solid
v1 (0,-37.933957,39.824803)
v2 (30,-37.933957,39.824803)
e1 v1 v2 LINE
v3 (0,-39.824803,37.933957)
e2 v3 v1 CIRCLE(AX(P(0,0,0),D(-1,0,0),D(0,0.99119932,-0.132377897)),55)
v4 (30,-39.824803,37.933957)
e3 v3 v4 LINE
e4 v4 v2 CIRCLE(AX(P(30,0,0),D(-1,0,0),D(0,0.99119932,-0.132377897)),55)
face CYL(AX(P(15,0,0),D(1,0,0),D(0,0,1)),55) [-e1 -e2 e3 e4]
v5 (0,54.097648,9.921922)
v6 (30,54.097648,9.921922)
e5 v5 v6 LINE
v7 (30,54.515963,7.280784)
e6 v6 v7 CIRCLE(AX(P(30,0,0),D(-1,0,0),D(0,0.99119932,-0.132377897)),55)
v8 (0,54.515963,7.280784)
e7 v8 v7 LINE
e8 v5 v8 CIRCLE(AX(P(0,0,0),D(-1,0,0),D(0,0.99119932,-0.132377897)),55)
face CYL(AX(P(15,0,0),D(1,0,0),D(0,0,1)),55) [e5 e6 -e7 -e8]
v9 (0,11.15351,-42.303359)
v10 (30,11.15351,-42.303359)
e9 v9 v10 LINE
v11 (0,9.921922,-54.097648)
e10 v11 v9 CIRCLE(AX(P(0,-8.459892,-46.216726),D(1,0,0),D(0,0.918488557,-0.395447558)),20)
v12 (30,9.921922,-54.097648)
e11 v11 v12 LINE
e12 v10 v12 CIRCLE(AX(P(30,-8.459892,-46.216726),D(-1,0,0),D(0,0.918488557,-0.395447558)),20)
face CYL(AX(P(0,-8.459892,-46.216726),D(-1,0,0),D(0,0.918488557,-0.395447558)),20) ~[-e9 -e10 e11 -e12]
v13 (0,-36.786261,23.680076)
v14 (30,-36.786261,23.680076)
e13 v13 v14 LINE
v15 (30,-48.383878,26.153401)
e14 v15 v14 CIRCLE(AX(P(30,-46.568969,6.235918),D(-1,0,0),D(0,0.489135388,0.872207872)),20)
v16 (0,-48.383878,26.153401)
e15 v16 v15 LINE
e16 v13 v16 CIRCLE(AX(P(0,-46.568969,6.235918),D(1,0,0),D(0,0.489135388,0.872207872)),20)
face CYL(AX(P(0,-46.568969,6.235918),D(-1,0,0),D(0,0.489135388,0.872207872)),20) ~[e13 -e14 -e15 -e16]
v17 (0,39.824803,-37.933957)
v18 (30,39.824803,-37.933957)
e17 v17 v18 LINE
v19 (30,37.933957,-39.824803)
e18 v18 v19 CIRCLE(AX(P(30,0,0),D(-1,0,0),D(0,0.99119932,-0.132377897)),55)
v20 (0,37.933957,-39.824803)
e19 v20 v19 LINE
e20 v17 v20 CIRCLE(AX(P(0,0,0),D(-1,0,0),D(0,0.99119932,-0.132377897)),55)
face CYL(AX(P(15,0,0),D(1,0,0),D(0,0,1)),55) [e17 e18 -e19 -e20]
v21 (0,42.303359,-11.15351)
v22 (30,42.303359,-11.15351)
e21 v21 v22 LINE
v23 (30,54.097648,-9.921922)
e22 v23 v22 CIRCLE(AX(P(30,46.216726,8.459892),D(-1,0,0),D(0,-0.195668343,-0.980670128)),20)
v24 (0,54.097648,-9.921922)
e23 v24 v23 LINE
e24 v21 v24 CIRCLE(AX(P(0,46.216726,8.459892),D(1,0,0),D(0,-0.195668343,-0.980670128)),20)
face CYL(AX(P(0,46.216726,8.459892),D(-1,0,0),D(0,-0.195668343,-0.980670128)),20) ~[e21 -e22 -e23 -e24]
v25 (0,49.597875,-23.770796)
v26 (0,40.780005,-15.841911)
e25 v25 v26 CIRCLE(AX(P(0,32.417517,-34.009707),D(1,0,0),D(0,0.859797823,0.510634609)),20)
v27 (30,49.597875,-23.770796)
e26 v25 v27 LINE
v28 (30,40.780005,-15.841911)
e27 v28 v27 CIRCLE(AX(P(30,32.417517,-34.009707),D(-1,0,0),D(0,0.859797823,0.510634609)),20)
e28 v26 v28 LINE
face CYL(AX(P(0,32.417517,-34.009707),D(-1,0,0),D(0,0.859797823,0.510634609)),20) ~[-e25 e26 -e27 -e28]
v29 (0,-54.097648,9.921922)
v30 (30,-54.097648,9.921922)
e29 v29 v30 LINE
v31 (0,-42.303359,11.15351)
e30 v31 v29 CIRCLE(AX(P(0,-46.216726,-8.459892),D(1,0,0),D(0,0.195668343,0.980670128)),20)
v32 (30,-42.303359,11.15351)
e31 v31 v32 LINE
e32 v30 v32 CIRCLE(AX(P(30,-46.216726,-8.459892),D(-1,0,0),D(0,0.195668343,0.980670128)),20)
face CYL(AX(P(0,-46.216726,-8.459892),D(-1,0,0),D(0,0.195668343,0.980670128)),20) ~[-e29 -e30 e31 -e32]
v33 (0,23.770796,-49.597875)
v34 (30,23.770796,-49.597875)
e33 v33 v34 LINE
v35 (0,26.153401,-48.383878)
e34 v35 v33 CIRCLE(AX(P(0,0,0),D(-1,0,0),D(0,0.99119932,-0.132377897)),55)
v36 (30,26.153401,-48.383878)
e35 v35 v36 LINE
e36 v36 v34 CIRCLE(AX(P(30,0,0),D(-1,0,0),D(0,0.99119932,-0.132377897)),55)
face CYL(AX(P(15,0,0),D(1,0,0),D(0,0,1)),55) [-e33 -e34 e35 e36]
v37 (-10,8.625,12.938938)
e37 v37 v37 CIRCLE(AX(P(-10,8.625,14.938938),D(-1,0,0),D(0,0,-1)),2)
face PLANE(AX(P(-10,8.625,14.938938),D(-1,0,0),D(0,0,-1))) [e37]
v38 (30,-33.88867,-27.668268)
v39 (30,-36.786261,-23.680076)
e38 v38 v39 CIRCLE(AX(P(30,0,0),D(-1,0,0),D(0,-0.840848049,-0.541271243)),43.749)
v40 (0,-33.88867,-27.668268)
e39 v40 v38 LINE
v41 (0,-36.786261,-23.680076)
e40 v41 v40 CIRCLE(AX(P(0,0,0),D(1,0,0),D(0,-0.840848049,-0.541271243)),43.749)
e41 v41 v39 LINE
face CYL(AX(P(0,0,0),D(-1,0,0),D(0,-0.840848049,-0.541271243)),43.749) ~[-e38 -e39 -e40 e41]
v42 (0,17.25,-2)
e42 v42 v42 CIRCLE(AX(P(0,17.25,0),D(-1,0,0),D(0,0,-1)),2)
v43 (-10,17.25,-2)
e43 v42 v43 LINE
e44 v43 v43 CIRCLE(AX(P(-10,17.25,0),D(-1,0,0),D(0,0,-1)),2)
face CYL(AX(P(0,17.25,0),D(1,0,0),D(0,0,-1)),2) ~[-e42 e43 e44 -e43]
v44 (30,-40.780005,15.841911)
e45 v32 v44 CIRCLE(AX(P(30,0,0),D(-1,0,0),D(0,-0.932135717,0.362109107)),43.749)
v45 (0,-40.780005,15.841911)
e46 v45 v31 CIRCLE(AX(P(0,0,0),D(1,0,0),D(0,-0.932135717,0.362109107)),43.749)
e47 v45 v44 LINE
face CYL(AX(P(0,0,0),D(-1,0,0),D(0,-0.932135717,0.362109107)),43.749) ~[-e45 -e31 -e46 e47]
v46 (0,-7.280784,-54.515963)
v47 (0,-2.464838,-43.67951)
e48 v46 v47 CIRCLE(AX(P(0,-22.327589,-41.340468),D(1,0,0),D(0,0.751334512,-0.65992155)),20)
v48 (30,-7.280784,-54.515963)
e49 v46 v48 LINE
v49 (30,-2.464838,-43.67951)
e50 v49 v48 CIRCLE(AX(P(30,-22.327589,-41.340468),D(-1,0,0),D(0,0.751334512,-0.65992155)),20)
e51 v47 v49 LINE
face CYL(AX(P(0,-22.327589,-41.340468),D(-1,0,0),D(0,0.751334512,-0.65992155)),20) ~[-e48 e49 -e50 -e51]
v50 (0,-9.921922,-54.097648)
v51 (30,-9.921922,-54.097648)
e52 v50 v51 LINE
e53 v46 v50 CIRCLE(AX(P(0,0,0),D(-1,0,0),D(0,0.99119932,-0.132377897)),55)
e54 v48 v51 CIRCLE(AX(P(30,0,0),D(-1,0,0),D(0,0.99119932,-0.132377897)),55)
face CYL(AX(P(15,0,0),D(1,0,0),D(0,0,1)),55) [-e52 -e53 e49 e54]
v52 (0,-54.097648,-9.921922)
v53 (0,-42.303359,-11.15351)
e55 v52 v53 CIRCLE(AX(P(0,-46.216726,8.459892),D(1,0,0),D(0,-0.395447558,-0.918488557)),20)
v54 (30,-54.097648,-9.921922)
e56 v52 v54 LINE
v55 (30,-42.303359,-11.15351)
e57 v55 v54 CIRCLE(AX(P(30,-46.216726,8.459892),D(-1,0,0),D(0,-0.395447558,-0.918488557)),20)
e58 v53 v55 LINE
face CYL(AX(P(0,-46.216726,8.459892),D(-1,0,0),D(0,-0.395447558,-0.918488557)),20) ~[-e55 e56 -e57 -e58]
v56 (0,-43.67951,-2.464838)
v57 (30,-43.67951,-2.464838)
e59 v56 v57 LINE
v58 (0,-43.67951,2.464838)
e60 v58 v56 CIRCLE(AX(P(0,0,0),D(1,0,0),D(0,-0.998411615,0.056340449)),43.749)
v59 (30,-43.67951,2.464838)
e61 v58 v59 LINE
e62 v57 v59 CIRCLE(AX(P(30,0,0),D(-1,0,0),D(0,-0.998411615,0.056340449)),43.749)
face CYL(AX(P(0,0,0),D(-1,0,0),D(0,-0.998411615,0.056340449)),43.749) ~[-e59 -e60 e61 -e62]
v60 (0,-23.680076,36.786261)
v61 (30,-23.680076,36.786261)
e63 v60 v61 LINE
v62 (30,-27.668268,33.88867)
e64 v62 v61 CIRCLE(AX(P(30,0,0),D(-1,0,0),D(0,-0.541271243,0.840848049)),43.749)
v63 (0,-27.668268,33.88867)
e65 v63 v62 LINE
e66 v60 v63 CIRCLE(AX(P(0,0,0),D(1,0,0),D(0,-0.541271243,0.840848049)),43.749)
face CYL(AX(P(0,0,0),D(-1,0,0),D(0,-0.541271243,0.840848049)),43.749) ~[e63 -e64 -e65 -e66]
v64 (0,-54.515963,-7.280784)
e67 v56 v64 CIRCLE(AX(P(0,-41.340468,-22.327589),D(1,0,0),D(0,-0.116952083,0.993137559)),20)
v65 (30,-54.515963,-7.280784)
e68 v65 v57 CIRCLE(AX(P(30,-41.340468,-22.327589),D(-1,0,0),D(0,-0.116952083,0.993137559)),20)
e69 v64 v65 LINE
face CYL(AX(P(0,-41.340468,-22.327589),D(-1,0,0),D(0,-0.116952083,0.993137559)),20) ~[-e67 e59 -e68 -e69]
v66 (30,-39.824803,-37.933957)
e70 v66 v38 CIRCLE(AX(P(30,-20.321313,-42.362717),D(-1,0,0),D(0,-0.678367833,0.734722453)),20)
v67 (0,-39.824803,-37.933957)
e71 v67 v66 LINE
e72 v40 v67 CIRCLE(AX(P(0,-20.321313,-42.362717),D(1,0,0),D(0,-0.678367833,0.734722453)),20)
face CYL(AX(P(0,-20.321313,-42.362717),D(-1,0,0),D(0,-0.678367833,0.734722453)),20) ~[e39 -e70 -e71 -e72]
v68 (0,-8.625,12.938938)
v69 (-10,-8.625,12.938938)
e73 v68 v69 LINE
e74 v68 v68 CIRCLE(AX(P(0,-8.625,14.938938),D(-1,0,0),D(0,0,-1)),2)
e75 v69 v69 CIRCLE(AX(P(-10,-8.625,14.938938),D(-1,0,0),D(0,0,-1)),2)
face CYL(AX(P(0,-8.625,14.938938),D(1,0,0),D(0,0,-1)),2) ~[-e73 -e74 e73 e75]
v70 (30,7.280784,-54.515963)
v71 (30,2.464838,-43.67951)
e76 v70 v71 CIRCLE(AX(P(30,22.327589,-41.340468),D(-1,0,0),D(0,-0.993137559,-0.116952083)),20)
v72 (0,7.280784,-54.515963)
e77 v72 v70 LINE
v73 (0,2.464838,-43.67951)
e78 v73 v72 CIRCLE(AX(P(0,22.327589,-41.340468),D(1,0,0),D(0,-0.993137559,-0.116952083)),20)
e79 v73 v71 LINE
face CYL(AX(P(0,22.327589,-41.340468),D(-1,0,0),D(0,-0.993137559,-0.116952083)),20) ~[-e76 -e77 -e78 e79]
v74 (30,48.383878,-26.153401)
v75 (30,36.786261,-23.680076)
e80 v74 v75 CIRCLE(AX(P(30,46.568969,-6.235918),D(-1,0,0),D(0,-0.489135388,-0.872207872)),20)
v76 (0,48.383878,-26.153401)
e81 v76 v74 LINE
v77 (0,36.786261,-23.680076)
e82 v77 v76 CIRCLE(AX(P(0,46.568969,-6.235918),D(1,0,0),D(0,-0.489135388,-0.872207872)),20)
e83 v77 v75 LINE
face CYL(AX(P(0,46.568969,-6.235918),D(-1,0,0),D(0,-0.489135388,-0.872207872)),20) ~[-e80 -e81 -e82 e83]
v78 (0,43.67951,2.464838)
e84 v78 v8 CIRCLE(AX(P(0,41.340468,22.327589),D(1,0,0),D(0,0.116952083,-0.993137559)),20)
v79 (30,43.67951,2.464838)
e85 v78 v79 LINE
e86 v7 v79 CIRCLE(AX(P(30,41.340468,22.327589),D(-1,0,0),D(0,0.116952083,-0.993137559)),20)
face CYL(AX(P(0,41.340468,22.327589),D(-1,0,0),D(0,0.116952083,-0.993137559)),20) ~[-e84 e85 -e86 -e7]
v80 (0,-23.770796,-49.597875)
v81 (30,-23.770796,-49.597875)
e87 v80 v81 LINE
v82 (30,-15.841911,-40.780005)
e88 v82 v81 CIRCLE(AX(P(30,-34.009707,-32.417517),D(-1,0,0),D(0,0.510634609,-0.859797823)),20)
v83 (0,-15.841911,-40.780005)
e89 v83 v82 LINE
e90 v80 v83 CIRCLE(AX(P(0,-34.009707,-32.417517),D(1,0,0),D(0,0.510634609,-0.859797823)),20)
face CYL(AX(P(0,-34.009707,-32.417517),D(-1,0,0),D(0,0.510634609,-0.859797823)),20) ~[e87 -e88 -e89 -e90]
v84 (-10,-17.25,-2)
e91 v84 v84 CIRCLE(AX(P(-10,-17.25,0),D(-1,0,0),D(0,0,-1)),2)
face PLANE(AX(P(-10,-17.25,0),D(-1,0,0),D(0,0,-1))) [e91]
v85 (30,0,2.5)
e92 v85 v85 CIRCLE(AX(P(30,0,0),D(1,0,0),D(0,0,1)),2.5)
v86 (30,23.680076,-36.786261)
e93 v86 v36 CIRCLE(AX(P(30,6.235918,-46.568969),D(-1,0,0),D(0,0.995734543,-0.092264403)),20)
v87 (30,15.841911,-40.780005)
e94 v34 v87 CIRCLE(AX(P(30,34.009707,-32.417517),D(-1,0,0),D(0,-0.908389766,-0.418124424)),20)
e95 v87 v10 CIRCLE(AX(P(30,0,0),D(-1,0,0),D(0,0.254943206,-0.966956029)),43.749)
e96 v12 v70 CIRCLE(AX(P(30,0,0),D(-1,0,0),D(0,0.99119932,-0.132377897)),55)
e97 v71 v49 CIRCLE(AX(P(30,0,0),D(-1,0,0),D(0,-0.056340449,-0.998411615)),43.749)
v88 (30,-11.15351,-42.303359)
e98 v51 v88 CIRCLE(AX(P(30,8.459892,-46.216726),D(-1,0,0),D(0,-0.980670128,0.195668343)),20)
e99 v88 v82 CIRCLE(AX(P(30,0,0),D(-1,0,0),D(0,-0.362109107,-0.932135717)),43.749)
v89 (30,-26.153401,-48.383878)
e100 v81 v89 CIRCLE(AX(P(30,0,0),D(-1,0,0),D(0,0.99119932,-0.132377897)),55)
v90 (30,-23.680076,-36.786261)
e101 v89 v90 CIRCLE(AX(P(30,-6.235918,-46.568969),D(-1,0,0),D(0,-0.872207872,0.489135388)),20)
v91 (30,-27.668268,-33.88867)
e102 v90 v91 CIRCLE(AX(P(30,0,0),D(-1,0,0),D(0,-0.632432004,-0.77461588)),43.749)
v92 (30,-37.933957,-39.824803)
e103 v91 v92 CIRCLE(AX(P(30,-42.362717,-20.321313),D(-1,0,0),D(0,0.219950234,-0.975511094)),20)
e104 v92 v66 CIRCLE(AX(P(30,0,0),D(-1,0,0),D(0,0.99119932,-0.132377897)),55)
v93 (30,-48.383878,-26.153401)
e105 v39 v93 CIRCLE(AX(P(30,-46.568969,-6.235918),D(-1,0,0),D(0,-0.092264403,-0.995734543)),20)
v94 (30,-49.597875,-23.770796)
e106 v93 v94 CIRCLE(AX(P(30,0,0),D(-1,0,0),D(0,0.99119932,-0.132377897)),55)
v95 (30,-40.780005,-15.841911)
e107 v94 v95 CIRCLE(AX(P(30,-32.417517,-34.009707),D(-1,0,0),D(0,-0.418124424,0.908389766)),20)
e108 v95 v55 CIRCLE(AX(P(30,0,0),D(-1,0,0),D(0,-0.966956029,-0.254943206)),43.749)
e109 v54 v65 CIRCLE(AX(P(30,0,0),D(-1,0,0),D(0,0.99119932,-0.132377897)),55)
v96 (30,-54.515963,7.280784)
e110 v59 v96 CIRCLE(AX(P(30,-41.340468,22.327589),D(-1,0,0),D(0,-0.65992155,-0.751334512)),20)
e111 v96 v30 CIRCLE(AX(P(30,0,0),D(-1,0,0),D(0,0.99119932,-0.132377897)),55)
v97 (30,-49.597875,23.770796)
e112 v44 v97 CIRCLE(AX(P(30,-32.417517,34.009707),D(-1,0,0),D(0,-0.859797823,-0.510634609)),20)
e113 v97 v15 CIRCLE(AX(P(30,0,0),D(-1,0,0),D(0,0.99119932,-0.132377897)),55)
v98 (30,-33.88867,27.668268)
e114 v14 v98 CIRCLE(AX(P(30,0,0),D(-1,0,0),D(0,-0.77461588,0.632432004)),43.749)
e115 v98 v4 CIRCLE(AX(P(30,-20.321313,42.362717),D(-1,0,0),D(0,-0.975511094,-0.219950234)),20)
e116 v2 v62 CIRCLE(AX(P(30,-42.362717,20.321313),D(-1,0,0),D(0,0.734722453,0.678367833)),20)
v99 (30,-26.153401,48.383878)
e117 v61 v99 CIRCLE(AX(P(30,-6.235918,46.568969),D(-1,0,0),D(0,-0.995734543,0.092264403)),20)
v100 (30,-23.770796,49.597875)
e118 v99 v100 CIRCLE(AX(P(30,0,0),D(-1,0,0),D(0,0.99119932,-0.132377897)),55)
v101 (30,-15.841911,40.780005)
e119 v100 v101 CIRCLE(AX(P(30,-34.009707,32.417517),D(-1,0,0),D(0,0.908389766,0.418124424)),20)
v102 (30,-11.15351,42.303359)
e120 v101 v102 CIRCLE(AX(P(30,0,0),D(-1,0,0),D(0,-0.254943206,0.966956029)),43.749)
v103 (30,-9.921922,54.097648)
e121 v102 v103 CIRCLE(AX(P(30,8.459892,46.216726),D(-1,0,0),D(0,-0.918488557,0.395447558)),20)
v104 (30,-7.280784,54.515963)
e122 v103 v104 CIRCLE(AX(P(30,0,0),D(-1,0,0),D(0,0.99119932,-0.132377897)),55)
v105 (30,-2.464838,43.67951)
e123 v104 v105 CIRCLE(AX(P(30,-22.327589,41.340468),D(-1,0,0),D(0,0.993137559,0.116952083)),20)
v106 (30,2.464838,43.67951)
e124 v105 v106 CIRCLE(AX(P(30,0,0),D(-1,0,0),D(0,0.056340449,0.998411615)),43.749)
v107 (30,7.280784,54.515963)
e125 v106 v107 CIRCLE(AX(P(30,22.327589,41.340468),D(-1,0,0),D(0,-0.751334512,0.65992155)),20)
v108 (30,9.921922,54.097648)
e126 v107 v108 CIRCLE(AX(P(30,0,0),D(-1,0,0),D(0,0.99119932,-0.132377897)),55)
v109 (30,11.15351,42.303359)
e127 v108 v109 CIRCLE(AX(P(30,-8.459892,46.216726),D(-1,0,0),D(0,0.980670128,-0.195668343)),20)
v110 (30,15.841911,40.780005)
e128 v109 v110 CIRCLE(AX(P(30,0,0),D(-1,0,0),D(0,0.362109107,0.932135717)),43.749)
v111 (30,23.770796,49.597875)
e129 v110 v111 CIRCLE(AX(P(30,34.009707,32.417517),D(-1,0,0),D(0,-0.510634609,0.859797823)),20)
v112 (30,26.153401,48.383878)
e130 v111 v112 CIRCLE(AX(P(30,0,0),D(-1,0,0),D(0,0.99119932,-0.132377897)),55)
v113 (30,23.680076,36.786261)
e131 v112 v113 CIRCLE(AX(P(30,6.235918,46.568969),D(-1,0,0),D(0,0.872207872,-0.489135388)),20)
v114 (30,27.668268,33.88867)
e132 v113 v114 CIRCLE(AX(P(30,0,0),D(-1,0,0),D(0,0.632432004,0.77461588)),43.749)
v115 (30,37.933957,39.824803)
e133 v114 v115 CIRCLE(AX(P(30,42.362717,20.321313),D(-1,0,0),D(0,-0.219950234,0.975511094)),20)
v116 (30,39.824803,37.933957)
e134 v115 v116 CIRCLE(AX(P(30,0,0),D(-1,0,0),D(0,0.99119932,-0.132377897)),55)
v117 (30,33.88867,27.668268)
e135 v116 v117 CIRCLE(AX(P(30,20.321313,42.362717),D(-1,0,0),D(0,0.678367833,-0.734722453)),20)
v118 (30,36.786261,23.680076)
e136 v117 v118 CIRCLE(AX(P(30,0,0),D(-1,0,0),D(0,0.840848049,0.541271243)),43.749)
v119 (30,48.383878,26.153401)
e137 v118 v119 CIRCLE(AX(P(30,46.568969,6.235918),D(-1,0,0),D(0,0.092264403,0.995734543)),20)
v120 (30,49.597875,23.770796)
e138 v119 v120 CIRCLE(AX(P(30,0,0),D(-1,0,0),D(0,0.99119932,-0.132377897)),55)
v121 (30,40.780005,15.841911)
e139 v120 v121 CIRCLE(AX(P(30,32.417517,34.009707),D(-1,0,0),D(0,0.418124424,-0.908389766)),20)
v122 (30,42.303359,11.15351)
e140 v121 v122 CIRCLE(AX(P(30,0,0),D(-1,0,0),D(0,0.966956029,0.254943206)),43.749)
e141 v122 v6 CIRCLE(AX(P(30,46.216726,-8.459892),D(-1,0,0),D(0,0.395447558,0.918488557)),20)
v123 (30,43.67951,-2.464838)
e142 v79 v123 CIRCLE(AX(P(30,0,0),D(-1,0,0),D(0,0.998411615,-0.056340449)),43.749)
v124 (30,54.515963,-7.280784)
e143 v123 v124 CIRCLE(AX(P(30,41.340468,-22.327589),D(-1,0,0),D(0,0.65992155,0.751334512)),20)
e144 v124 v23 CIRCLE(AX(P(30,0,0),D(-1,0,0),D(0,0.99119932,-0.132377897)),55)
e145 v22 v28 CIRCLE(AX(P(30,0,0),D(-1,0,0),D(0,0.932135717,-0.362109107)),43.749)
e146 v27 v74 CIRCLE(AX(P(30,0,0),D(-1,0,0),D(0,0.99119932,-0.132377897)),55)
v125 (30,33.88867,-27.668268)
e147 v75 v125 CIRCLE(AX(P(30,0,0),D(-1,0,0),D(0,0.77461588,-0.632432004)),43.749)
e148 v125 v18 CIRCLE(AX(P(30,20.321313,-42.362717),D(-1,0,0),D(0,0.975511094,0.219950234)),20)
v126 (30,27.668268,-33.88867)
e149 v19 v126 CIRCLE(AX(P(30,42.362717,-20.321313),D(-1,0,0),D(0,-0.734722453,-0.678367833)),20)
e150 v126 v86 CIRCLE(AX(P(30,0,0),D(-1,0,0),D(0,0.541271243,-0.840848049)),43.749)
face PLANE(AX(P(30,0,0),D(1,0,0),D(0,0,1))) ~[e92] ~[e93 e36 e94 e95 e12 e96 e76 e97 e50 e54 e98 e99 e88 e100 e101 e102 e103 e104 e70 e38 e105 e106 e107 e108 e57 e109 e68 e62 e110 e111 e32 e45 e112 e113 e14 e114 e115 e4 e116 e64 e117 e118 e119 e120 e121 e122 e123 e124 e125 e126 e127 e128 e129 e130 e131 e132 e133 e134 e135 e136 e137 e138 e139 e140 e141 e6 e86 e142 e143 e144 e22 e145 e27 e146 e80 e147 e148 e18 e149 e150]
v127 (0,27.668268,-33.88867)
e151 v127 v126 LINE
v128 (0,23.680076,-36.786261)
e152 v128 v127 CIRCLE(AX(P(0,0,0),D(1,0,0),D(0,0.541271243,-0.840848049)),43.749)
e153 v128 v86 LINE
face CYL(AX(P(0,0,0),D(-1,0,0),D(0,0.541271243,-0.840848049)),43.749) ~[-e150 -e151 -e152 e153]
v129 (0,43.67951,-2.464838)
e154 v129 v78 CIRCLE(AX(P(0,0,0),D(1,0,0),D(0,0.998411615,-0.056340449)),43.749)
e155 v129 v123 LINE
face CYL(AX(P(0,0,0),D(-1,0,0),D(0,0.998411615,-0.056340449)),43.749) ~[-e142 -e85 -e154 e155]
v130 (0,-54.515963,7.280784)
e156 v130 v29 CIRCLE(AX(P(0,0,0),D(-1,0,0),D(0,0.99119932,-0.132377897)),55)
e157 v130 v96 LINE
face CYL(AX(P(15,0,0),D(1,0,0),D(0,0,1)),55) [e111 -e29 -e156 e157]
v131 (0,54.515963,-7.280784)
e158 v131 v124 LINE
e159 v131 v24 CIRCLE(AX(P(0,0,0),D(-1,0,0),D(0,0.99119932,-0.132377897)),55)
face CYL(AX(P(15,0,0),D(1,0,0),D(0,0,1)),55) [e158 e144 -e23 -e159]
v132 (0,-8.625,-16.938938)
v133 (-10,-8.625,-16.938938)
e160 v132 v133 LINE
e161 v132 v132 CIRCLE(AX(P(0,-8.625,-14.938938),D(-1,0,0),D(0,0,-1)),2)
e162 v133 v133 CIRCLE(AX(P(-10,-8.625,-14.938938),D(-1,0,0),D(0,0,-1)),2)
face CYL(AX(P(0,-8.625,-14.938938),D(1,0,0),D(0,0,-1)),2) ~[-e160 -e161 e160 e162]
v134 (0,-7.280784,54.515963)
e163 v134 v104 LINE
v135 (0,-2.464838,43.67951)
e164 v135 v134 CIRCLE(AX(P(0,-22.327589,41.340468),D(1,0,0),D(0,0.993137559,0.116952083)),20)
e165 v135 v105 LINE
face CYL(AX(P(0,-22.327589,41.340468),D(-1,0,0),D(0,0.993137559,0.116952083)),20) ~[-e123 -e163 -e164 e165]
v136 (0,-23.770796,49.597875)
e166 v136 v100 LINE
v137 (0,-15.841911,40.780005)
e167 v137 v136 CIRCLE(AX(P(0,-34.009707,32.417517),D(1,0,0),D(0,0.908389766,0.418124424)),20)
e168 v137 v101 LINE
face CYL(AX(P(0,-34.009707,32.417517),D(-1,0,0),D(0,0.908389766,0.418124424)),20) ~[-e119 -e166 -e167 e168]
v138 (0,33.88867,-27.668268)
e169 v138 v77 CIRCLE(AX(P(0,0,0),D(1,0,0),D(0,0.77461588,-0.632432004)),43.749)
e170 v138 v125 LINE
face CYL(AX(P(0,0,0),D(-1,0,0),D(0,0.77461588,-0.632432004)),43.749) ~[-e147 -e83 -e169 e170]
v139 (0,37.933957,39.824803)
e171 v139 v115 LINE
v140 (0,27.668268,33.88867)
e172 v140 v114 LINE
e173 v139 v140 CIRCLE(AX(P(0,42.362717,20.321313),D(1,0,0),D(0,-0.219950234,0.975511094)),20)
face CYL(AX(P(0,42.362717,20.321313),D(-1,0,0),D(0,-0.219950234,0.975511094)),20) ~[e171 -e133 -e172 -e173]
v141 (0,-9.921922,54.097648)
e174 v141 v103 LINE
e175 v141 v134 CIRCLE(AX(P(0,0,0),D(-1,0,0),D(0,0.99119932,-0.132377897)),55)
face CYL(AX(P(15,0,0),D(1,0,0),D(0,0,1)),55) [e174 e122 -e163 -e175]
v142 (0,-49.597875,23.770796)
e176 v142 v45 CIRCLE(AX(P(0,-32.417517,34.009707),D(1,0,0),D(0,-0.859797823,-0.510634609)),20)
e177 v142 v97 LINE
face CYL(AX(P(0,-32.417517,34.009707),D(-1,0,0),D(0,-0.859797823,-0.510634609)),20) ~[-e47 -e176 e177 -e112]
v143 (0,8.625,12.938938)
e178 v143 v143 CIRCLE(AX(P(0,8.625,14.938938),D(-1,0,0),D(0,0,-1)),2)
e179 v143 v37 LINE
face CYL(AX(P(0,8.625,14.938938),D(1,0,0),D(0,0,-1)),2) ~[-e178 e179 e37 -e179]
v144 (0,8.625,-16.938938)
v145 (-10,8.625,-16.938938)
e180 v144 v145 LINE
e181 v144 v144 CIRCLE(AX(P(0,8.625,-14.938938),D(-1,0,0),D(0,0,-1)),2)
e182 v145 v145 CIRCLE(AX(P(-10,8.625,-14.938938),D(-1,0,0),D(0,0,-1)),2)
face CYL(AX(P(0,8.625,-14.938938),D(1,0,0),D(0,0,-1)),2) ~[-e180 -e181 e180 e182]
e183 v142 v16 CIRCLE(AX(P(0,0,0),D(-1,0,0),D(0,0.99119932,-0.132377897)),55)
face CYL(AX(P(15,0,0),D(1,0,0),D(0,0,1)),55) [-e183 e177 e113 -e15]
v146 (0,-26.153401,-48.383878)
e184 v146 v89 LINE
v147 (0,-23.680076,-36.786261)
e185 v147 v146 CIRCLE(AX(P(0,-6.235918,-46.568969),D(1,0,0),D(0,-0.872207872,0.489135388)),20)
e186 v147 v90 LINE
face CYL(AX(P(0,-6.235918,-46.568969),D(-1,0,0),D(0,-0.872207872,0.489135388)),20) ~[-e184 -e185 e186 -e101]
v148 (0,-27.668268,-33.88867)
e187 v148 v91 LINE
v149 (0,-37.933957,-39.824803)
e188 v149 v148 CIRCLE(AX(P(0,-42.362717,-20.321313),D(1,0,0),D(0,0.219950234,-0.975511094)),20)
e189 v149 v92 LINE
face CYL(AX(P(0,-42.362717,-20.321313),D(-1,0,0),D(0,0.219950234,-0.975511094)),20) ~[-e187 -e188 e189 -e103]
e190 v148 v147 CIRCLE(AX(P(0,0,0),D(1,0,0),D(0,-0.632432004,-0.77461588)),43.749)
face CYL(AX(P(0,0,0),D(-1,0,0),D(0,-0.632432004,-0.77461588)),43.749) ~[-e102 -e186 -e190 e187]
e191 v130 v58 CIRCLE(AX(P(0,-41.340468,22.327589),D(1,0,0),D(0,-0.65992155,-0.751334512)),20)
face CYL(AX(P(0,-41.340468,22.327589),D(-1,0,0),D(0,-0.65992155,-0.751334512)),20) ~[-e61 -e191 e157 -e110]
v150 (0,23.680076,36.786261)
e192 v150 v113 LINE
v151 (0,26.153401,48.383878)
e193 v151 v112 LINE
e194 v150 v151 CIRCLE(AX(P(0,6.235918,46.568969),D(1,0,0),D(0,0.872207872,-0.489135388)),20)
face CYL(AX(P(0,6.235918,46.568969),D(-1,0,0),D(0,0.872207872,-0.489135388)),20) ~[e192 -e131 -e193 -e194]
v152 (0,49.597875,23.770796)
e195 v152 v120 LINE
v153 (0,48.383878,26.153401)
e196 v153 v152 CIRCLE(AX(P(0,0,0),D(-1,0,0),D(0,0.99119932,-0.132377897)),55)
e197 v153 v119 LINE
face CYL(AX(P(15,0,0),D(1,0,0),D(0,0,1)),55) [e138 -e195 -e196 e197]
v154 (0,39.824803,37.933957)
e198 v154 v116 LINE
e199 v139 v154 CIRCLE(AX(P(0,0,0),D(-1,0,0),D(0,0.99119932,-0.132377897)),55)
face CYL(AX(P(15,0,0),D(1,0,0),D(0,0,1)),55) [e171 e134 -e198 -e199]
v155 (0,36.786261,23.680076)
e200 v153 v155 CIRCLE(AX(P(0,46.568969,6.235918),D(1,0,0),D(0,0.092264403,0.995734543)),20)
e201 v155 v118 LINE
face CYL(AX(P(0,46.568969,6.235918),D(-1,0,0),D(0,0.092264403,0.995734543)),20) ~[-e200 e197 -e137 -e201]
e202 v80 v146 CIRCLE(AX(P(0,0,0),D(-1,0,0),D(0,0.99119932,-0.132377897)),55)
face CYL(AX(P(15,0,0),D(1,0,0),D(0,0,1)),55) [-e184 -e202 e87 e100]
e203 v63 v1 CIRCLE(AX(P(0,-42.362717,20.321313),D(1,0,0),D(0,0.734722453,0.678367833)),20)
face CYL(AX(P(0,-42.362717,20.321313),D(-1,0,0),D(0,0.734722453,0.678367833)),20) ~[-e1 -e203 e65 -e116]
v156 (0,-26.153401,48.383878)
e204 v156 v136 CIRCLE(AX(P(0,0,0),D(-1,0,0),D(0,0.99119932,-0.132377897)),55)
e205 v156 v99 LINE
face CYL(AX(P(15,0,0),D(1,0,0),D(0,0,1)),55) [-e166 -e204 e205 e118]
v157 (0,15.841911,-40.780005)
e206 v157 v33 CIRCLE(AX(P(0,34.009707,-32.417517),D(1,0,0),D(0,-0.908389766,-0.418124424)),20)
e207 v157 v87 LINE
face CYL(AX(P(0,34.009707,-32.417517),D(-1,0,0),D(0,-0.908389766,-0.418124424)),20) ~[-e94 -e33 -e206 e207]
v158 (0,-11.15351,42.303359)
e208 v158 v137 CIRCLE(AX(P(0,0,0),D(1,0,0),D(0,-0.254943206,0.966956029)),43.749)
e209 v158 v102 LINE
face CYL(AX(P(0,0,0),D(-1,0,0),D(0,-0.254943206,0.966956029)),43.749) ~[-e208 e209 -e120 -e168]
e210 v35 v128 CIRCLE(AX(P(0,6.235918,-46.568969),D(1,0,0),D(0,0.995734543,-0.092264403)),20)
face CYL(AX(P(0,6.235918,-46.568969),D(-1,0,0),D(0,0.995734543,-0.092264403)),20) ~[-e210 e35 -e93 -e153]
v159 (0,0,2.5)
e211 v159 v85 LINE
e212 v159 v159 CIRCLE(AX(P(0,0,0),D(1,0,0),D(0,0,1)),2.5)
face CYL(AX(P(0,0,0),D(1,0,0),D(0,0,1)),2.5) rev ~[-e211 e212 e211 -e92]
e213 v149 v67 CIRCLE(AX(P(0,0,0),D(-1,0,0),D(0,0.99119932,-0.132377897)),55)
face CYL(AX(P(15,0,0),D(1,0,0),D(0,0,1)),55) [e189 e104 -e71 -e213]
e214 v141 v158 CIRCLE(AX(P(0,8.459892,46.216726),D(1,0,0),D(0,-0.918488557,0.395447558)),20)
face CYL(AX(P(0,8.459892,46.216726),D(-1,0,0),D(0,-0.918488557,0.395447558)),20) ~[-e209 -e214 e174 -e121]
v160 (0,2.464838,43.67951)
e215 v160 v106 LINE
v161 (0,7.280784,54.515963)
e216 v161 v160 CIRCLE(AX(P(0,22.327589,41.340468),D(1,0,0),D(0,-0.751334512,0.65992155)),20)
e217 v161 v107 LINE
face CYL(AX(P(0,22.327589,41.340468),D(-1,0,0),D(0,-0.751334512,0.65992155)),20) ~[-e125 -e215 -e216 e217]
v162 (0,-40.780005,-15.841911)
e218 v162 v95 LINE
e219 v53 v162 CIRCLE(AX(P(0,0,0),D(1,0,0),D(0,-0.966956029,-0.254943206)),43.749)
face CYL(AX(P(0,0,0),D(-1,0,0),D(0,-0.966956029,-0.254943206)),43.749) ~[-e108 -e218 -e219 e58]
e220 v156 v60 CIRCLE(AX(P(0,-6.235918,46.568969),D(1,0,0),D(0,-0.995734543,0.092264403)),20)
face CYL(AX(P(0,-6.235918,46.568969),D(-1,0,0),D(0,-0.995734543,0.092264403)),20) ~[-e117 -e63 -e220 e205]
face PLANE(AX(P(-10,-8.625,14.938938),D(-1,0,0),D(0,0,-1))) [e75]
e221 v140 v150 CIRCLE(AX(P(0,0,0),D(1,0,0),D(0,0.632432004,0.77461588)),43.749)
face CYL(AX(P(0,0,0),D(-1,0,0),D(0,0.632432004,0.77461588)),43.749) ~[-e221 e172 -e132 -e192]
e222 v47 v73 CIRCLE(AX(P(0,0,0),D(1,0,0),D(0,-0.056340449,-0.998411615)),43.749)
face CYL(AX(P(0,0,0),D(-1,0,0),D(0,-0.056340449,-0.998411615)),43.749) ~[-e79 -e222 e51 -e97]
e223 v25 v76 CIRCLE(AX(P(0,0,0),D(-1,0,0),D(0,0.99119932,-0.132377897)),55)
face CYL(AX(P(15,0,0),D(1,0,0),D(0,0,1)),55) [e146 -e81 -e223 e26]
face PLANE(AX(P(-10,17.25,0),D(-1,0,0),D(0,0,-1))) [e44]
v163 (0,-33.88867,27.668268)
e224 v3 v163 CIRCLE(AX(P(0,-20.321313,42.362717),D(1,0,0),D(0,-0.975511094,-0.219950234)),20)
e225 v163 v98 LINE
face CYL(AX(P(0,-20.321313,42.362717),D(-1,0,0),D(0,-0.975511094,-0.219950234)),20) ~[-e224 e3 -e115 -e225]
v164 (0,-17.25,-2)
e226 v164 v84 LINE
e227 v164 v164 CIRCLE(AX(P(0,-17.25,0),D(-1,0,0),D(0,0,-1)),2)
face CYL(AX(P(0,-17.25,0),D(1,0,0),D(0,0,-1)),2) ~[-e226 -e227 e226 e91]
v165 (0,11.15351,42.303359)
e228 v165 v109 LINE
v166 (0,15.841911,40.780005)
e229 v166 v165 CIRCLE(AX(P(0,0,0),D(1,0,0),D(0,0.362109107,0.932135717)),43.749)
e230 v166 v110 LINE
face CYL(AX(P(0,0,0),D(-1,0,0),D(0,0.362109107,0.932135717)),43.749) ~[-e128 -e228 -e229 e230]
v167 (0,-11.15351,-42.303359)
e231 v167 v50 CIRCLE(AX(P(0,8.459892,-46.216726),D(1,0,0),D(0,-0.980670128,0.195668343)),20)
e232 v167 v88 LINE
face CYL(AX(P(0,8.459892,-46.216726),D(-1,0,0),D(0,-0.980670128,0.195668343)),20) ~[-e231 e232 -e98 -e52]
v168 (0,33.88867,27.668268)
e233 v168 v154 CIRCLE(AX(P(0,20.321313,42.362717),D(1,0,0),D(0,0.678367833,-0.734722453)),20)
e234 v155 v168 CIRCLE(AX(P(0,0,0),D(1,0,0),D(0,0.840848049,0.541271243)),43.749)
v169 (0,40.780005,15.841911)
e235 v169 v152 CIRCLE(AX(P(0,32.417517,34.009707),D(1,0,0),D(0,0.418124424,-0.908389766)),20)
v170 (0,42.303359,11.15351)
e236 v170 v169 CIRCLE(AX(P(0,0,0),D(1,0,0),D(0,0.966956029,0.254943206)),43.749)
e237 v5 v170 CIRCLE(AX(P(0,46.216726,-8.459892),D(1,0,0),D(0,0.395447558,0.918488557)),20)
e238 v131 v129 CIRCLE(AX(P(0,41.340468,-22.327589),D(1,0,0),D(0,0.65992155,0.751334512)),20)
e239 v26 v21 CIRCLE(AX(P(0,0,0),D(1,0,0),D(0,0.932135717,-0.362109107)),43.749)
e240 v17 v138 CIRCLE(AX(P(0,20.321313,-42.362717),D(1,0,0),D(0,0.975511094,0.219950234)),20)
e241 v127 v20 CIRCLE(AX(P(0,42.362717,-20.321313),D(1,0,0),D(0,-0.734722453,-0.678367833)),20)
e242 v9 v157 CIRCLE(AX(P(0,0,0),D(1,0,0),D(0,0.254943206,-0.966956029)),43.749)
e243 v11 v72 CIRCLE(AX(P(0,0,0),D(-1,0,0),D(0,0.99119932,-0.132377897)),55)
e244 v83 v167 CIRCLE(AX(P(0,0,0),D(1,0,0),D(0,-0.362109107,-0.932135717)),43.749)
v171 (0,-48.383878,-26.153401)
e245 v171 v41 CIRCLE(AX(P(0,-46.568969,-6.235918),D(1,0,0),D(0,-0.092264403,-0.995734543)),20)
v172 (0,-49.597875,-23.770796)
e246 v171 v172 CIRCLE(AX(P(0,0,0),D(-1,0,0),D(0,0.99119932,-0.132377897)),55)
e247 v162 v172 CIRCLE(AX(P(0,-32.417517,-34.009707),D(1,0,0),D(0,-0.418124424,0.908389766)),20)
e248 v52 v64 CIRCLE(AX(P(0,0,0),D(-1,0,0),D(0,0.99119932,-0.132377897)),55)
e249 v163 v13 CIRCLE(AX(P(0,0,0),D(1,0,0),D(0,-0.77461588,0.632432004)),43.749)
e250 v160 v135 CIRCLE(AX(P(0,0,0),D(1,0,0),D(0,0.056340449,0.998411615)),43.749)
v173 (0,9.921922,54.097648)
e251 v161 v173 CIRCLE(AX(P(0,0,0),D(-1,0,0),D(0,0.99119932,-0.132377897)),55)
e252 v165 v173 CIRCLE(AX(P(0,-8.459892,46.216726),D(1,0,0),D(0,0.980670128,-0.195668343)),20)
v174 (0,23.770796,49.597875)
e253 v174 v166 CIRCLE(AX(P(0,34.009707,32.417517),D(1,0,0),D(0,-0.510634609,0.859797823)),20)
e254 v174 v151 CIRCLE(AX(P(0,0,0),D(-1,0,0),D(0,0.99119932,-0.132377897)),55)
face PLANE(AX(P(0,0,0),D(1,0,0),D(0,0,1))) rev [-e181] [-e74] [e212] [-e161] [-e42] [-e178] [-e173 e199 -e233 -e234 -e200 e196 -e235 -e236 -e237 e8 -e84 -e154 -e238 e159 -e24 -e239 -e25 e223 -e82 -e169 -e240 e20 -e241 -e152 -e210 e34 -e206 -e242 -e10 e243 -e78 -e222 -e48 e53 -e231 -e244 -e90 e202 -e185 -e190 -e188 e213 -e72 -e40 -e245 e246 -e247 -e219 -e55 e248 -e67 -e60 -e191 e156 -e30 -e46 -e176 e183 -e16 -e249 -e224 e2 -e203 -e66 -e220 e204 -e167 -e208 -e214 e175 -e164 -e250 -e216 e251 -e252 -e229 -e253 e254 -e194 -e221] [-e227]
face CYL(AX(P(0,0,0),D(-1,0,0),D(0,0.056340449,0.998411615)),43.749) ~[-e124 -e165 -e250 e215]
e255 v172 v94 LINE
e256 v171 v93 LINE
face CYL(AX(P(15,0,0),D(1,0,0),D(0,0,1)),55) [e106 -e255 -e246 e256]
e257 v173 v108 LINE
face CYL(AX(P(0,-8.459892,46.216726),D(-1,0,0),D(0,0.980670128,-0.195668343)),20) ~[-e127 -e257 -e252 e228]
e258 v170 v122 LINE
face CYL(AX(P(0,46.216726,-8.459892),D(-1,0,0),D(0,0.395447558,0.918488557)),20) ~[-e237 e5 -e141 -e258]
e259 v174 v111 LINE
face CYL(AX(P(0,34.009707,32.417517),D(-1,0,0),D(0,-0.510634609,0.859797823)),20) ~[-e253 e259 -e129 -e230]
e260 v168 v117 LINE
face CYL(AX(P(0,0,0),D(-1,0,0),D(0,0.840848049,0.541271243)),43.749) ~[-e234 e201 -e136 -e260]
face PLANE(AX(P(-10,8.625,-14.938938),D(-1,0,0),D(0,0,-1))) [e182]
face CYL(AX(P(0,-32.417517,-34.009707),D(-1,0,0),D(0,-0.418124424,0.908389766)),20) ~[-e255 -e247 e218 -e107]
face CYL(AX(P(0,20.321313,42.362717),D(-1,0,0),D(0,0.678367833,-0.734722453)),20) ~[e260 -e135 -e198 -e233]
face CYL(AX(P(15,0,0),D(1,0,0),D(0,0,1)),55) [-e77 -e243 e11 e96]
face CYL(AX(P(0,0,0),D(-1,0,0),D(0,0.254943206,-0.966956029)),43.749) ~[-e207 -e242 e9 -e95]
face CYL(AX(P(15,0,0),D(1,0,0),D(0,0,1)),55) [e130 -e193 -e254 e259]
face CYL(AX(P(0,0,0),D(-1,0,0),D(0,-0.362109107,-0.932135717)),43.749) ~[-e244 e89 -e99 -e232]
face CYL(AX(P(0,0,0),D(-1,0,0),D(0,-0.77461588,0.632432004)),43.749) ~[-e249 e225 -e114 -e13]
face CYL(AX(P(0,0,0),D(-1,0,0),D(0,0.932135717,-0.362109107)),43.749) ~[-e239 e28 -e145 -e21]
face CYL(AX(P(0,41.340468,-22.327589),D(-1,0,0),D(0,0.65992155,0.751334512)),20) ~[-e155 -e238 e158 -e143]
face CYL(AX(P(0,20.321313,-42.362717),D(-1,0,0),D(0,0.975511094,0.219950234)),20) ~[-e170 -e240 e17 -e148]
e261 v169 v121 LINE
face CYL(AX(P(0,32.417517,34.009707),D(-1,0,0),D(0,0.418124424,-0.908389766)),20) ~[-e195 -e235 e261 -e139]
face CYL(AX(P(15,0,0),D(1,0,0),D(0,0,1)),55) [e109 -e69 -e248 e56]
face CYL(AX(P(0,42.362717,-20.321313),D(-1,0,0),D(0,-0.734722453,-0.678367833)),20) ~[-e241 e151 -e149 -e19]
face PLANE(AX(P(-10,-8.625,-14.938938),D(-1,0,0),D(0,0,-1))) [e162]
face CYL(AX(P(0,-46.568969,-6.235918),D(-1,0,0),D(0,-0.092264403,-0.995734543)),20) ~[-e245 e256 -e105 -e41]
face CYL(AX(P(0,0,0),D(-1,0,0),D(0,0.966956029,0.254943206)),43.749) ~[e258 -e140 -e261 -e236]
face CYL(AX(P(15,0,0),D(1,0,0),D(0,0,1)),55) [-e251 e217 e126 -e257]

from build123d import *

# Parameters (mm, degrees)
BASPROSKE_W     = 30
BASPROSKE_H     = 55
TOOTHCUT_DEPTH  = 84.366660003
TEETHCUTS_COUNT = 20
TEETHCUTS_ANGLE = 342
BORSKE_R        = 2.5
BORE_DEPTH      = 50.0000508
SKETCH_1_R      = 2
EXTRUDE_1_DEPTH = 10


with BuildPart() as part:
    # BasProSke → Base-Revolve (revolve)
    with BuildSketch(Plane(origin=(0, 0, 0), x_dir=(1, 0, 0), z_dir=(0, 1, 0)), mode=Mode.PRIVATE) as base_revolve_sk:
        with Locations((15, 27.5)):
            Rectangle(BASPROSKE_W, BASPROSKE_H)
    revolve(base_revolve_sk.sketch.rotate(Axis((-10, 0, 0), (1, 0, 0)), 180), axis=Axis((-10, 0, 0), (1, 0, 0)))

    # TooCutSke → ToothCut (cut, through all)
    with BuildSketch(Plane(origin=(0, 0, 0), x_dir=(0, 0, -1), z_dir=(1, 0, 0))):
        with BuildLine():
            ThreePointArc((2.464838288, 43.679509764), (0, 43.749), (-2.464838288, 43.679509764))
            ThreePointArc((-2.464838288, 43.679509764), (-4.057398861, 49.476814676), (-7.300899231, 54.538899105))
            ThreePointArc((-7.300899231, 54.538899105), (0, 55.0254), (7.300899231, 54.538899105))
            ThreePointArc((7.300899231, 54.538899105), (4.057398861, 49.476814676), (2.464838288, 43.679509764))
        make_face()
    toothcut = extrude(amount=TOOTHCUT_DEPTH, mode=Mode.SUBTRACT)

    # TeethCuts: ToothCut ×20 about axis
    teethcuts_axis = Axis((-10, 0, 0), (1, 0, 0))
    for i in range(1, TEETHCUTS_COUNT):
        add(toothcut.rotate(teethcuts_axis, i * TEETHCUTS_ANGLE / (TEETHCUTS_COUNT - 1)), mode=Mode.SUBTRACT)

    # BorSke → Bore (cut, symmetric)
    with BuildSketch(Plane(origin=(0, 0, 0), x_dir=(0, 0, -1), z_dir=(1, 0, 0))):
        with Locations(Location((0, 0, 0), (0, 0, 180))):
            Circle(BORSKE_R)
    extrude(amount=BORE_DEPTH, both=True, mode=Mode.SUBTRACT)

    # 草图1 → 凸台-拉伸1 (add)
    with BuildSketch(Plane.ZY):
        with Locations(Location((0, -17.25, 0), (0, 0, 180))):
            Circle(SKETCH_1_R)
        with Locations(Location((-14.938938215, -8.625, 0), (0, 0, 180))):
            Circle(SKETCH_1_R)
        with Locations(Location((-14.938938215, 8.625, 0), (0, 0, 180))):
            Circle(SKETCH_1_R)
        with Locations(Location((0, 17.25, 0), (0, 0, 180))):
            Circle(SKETCH_1_R)
        with Locations(Location((14.938938215, 8.625, 0), (0, 0, 180))):
            Circle(SKETCH_1_R)
        with Locations(Location((14.938938215, -8.625, 0), (0, 0, 180))):
            Circle(SKETCH_1_R)
    extrude(amount=EXTRUDE_1_DEPTH)


solid = part.part
